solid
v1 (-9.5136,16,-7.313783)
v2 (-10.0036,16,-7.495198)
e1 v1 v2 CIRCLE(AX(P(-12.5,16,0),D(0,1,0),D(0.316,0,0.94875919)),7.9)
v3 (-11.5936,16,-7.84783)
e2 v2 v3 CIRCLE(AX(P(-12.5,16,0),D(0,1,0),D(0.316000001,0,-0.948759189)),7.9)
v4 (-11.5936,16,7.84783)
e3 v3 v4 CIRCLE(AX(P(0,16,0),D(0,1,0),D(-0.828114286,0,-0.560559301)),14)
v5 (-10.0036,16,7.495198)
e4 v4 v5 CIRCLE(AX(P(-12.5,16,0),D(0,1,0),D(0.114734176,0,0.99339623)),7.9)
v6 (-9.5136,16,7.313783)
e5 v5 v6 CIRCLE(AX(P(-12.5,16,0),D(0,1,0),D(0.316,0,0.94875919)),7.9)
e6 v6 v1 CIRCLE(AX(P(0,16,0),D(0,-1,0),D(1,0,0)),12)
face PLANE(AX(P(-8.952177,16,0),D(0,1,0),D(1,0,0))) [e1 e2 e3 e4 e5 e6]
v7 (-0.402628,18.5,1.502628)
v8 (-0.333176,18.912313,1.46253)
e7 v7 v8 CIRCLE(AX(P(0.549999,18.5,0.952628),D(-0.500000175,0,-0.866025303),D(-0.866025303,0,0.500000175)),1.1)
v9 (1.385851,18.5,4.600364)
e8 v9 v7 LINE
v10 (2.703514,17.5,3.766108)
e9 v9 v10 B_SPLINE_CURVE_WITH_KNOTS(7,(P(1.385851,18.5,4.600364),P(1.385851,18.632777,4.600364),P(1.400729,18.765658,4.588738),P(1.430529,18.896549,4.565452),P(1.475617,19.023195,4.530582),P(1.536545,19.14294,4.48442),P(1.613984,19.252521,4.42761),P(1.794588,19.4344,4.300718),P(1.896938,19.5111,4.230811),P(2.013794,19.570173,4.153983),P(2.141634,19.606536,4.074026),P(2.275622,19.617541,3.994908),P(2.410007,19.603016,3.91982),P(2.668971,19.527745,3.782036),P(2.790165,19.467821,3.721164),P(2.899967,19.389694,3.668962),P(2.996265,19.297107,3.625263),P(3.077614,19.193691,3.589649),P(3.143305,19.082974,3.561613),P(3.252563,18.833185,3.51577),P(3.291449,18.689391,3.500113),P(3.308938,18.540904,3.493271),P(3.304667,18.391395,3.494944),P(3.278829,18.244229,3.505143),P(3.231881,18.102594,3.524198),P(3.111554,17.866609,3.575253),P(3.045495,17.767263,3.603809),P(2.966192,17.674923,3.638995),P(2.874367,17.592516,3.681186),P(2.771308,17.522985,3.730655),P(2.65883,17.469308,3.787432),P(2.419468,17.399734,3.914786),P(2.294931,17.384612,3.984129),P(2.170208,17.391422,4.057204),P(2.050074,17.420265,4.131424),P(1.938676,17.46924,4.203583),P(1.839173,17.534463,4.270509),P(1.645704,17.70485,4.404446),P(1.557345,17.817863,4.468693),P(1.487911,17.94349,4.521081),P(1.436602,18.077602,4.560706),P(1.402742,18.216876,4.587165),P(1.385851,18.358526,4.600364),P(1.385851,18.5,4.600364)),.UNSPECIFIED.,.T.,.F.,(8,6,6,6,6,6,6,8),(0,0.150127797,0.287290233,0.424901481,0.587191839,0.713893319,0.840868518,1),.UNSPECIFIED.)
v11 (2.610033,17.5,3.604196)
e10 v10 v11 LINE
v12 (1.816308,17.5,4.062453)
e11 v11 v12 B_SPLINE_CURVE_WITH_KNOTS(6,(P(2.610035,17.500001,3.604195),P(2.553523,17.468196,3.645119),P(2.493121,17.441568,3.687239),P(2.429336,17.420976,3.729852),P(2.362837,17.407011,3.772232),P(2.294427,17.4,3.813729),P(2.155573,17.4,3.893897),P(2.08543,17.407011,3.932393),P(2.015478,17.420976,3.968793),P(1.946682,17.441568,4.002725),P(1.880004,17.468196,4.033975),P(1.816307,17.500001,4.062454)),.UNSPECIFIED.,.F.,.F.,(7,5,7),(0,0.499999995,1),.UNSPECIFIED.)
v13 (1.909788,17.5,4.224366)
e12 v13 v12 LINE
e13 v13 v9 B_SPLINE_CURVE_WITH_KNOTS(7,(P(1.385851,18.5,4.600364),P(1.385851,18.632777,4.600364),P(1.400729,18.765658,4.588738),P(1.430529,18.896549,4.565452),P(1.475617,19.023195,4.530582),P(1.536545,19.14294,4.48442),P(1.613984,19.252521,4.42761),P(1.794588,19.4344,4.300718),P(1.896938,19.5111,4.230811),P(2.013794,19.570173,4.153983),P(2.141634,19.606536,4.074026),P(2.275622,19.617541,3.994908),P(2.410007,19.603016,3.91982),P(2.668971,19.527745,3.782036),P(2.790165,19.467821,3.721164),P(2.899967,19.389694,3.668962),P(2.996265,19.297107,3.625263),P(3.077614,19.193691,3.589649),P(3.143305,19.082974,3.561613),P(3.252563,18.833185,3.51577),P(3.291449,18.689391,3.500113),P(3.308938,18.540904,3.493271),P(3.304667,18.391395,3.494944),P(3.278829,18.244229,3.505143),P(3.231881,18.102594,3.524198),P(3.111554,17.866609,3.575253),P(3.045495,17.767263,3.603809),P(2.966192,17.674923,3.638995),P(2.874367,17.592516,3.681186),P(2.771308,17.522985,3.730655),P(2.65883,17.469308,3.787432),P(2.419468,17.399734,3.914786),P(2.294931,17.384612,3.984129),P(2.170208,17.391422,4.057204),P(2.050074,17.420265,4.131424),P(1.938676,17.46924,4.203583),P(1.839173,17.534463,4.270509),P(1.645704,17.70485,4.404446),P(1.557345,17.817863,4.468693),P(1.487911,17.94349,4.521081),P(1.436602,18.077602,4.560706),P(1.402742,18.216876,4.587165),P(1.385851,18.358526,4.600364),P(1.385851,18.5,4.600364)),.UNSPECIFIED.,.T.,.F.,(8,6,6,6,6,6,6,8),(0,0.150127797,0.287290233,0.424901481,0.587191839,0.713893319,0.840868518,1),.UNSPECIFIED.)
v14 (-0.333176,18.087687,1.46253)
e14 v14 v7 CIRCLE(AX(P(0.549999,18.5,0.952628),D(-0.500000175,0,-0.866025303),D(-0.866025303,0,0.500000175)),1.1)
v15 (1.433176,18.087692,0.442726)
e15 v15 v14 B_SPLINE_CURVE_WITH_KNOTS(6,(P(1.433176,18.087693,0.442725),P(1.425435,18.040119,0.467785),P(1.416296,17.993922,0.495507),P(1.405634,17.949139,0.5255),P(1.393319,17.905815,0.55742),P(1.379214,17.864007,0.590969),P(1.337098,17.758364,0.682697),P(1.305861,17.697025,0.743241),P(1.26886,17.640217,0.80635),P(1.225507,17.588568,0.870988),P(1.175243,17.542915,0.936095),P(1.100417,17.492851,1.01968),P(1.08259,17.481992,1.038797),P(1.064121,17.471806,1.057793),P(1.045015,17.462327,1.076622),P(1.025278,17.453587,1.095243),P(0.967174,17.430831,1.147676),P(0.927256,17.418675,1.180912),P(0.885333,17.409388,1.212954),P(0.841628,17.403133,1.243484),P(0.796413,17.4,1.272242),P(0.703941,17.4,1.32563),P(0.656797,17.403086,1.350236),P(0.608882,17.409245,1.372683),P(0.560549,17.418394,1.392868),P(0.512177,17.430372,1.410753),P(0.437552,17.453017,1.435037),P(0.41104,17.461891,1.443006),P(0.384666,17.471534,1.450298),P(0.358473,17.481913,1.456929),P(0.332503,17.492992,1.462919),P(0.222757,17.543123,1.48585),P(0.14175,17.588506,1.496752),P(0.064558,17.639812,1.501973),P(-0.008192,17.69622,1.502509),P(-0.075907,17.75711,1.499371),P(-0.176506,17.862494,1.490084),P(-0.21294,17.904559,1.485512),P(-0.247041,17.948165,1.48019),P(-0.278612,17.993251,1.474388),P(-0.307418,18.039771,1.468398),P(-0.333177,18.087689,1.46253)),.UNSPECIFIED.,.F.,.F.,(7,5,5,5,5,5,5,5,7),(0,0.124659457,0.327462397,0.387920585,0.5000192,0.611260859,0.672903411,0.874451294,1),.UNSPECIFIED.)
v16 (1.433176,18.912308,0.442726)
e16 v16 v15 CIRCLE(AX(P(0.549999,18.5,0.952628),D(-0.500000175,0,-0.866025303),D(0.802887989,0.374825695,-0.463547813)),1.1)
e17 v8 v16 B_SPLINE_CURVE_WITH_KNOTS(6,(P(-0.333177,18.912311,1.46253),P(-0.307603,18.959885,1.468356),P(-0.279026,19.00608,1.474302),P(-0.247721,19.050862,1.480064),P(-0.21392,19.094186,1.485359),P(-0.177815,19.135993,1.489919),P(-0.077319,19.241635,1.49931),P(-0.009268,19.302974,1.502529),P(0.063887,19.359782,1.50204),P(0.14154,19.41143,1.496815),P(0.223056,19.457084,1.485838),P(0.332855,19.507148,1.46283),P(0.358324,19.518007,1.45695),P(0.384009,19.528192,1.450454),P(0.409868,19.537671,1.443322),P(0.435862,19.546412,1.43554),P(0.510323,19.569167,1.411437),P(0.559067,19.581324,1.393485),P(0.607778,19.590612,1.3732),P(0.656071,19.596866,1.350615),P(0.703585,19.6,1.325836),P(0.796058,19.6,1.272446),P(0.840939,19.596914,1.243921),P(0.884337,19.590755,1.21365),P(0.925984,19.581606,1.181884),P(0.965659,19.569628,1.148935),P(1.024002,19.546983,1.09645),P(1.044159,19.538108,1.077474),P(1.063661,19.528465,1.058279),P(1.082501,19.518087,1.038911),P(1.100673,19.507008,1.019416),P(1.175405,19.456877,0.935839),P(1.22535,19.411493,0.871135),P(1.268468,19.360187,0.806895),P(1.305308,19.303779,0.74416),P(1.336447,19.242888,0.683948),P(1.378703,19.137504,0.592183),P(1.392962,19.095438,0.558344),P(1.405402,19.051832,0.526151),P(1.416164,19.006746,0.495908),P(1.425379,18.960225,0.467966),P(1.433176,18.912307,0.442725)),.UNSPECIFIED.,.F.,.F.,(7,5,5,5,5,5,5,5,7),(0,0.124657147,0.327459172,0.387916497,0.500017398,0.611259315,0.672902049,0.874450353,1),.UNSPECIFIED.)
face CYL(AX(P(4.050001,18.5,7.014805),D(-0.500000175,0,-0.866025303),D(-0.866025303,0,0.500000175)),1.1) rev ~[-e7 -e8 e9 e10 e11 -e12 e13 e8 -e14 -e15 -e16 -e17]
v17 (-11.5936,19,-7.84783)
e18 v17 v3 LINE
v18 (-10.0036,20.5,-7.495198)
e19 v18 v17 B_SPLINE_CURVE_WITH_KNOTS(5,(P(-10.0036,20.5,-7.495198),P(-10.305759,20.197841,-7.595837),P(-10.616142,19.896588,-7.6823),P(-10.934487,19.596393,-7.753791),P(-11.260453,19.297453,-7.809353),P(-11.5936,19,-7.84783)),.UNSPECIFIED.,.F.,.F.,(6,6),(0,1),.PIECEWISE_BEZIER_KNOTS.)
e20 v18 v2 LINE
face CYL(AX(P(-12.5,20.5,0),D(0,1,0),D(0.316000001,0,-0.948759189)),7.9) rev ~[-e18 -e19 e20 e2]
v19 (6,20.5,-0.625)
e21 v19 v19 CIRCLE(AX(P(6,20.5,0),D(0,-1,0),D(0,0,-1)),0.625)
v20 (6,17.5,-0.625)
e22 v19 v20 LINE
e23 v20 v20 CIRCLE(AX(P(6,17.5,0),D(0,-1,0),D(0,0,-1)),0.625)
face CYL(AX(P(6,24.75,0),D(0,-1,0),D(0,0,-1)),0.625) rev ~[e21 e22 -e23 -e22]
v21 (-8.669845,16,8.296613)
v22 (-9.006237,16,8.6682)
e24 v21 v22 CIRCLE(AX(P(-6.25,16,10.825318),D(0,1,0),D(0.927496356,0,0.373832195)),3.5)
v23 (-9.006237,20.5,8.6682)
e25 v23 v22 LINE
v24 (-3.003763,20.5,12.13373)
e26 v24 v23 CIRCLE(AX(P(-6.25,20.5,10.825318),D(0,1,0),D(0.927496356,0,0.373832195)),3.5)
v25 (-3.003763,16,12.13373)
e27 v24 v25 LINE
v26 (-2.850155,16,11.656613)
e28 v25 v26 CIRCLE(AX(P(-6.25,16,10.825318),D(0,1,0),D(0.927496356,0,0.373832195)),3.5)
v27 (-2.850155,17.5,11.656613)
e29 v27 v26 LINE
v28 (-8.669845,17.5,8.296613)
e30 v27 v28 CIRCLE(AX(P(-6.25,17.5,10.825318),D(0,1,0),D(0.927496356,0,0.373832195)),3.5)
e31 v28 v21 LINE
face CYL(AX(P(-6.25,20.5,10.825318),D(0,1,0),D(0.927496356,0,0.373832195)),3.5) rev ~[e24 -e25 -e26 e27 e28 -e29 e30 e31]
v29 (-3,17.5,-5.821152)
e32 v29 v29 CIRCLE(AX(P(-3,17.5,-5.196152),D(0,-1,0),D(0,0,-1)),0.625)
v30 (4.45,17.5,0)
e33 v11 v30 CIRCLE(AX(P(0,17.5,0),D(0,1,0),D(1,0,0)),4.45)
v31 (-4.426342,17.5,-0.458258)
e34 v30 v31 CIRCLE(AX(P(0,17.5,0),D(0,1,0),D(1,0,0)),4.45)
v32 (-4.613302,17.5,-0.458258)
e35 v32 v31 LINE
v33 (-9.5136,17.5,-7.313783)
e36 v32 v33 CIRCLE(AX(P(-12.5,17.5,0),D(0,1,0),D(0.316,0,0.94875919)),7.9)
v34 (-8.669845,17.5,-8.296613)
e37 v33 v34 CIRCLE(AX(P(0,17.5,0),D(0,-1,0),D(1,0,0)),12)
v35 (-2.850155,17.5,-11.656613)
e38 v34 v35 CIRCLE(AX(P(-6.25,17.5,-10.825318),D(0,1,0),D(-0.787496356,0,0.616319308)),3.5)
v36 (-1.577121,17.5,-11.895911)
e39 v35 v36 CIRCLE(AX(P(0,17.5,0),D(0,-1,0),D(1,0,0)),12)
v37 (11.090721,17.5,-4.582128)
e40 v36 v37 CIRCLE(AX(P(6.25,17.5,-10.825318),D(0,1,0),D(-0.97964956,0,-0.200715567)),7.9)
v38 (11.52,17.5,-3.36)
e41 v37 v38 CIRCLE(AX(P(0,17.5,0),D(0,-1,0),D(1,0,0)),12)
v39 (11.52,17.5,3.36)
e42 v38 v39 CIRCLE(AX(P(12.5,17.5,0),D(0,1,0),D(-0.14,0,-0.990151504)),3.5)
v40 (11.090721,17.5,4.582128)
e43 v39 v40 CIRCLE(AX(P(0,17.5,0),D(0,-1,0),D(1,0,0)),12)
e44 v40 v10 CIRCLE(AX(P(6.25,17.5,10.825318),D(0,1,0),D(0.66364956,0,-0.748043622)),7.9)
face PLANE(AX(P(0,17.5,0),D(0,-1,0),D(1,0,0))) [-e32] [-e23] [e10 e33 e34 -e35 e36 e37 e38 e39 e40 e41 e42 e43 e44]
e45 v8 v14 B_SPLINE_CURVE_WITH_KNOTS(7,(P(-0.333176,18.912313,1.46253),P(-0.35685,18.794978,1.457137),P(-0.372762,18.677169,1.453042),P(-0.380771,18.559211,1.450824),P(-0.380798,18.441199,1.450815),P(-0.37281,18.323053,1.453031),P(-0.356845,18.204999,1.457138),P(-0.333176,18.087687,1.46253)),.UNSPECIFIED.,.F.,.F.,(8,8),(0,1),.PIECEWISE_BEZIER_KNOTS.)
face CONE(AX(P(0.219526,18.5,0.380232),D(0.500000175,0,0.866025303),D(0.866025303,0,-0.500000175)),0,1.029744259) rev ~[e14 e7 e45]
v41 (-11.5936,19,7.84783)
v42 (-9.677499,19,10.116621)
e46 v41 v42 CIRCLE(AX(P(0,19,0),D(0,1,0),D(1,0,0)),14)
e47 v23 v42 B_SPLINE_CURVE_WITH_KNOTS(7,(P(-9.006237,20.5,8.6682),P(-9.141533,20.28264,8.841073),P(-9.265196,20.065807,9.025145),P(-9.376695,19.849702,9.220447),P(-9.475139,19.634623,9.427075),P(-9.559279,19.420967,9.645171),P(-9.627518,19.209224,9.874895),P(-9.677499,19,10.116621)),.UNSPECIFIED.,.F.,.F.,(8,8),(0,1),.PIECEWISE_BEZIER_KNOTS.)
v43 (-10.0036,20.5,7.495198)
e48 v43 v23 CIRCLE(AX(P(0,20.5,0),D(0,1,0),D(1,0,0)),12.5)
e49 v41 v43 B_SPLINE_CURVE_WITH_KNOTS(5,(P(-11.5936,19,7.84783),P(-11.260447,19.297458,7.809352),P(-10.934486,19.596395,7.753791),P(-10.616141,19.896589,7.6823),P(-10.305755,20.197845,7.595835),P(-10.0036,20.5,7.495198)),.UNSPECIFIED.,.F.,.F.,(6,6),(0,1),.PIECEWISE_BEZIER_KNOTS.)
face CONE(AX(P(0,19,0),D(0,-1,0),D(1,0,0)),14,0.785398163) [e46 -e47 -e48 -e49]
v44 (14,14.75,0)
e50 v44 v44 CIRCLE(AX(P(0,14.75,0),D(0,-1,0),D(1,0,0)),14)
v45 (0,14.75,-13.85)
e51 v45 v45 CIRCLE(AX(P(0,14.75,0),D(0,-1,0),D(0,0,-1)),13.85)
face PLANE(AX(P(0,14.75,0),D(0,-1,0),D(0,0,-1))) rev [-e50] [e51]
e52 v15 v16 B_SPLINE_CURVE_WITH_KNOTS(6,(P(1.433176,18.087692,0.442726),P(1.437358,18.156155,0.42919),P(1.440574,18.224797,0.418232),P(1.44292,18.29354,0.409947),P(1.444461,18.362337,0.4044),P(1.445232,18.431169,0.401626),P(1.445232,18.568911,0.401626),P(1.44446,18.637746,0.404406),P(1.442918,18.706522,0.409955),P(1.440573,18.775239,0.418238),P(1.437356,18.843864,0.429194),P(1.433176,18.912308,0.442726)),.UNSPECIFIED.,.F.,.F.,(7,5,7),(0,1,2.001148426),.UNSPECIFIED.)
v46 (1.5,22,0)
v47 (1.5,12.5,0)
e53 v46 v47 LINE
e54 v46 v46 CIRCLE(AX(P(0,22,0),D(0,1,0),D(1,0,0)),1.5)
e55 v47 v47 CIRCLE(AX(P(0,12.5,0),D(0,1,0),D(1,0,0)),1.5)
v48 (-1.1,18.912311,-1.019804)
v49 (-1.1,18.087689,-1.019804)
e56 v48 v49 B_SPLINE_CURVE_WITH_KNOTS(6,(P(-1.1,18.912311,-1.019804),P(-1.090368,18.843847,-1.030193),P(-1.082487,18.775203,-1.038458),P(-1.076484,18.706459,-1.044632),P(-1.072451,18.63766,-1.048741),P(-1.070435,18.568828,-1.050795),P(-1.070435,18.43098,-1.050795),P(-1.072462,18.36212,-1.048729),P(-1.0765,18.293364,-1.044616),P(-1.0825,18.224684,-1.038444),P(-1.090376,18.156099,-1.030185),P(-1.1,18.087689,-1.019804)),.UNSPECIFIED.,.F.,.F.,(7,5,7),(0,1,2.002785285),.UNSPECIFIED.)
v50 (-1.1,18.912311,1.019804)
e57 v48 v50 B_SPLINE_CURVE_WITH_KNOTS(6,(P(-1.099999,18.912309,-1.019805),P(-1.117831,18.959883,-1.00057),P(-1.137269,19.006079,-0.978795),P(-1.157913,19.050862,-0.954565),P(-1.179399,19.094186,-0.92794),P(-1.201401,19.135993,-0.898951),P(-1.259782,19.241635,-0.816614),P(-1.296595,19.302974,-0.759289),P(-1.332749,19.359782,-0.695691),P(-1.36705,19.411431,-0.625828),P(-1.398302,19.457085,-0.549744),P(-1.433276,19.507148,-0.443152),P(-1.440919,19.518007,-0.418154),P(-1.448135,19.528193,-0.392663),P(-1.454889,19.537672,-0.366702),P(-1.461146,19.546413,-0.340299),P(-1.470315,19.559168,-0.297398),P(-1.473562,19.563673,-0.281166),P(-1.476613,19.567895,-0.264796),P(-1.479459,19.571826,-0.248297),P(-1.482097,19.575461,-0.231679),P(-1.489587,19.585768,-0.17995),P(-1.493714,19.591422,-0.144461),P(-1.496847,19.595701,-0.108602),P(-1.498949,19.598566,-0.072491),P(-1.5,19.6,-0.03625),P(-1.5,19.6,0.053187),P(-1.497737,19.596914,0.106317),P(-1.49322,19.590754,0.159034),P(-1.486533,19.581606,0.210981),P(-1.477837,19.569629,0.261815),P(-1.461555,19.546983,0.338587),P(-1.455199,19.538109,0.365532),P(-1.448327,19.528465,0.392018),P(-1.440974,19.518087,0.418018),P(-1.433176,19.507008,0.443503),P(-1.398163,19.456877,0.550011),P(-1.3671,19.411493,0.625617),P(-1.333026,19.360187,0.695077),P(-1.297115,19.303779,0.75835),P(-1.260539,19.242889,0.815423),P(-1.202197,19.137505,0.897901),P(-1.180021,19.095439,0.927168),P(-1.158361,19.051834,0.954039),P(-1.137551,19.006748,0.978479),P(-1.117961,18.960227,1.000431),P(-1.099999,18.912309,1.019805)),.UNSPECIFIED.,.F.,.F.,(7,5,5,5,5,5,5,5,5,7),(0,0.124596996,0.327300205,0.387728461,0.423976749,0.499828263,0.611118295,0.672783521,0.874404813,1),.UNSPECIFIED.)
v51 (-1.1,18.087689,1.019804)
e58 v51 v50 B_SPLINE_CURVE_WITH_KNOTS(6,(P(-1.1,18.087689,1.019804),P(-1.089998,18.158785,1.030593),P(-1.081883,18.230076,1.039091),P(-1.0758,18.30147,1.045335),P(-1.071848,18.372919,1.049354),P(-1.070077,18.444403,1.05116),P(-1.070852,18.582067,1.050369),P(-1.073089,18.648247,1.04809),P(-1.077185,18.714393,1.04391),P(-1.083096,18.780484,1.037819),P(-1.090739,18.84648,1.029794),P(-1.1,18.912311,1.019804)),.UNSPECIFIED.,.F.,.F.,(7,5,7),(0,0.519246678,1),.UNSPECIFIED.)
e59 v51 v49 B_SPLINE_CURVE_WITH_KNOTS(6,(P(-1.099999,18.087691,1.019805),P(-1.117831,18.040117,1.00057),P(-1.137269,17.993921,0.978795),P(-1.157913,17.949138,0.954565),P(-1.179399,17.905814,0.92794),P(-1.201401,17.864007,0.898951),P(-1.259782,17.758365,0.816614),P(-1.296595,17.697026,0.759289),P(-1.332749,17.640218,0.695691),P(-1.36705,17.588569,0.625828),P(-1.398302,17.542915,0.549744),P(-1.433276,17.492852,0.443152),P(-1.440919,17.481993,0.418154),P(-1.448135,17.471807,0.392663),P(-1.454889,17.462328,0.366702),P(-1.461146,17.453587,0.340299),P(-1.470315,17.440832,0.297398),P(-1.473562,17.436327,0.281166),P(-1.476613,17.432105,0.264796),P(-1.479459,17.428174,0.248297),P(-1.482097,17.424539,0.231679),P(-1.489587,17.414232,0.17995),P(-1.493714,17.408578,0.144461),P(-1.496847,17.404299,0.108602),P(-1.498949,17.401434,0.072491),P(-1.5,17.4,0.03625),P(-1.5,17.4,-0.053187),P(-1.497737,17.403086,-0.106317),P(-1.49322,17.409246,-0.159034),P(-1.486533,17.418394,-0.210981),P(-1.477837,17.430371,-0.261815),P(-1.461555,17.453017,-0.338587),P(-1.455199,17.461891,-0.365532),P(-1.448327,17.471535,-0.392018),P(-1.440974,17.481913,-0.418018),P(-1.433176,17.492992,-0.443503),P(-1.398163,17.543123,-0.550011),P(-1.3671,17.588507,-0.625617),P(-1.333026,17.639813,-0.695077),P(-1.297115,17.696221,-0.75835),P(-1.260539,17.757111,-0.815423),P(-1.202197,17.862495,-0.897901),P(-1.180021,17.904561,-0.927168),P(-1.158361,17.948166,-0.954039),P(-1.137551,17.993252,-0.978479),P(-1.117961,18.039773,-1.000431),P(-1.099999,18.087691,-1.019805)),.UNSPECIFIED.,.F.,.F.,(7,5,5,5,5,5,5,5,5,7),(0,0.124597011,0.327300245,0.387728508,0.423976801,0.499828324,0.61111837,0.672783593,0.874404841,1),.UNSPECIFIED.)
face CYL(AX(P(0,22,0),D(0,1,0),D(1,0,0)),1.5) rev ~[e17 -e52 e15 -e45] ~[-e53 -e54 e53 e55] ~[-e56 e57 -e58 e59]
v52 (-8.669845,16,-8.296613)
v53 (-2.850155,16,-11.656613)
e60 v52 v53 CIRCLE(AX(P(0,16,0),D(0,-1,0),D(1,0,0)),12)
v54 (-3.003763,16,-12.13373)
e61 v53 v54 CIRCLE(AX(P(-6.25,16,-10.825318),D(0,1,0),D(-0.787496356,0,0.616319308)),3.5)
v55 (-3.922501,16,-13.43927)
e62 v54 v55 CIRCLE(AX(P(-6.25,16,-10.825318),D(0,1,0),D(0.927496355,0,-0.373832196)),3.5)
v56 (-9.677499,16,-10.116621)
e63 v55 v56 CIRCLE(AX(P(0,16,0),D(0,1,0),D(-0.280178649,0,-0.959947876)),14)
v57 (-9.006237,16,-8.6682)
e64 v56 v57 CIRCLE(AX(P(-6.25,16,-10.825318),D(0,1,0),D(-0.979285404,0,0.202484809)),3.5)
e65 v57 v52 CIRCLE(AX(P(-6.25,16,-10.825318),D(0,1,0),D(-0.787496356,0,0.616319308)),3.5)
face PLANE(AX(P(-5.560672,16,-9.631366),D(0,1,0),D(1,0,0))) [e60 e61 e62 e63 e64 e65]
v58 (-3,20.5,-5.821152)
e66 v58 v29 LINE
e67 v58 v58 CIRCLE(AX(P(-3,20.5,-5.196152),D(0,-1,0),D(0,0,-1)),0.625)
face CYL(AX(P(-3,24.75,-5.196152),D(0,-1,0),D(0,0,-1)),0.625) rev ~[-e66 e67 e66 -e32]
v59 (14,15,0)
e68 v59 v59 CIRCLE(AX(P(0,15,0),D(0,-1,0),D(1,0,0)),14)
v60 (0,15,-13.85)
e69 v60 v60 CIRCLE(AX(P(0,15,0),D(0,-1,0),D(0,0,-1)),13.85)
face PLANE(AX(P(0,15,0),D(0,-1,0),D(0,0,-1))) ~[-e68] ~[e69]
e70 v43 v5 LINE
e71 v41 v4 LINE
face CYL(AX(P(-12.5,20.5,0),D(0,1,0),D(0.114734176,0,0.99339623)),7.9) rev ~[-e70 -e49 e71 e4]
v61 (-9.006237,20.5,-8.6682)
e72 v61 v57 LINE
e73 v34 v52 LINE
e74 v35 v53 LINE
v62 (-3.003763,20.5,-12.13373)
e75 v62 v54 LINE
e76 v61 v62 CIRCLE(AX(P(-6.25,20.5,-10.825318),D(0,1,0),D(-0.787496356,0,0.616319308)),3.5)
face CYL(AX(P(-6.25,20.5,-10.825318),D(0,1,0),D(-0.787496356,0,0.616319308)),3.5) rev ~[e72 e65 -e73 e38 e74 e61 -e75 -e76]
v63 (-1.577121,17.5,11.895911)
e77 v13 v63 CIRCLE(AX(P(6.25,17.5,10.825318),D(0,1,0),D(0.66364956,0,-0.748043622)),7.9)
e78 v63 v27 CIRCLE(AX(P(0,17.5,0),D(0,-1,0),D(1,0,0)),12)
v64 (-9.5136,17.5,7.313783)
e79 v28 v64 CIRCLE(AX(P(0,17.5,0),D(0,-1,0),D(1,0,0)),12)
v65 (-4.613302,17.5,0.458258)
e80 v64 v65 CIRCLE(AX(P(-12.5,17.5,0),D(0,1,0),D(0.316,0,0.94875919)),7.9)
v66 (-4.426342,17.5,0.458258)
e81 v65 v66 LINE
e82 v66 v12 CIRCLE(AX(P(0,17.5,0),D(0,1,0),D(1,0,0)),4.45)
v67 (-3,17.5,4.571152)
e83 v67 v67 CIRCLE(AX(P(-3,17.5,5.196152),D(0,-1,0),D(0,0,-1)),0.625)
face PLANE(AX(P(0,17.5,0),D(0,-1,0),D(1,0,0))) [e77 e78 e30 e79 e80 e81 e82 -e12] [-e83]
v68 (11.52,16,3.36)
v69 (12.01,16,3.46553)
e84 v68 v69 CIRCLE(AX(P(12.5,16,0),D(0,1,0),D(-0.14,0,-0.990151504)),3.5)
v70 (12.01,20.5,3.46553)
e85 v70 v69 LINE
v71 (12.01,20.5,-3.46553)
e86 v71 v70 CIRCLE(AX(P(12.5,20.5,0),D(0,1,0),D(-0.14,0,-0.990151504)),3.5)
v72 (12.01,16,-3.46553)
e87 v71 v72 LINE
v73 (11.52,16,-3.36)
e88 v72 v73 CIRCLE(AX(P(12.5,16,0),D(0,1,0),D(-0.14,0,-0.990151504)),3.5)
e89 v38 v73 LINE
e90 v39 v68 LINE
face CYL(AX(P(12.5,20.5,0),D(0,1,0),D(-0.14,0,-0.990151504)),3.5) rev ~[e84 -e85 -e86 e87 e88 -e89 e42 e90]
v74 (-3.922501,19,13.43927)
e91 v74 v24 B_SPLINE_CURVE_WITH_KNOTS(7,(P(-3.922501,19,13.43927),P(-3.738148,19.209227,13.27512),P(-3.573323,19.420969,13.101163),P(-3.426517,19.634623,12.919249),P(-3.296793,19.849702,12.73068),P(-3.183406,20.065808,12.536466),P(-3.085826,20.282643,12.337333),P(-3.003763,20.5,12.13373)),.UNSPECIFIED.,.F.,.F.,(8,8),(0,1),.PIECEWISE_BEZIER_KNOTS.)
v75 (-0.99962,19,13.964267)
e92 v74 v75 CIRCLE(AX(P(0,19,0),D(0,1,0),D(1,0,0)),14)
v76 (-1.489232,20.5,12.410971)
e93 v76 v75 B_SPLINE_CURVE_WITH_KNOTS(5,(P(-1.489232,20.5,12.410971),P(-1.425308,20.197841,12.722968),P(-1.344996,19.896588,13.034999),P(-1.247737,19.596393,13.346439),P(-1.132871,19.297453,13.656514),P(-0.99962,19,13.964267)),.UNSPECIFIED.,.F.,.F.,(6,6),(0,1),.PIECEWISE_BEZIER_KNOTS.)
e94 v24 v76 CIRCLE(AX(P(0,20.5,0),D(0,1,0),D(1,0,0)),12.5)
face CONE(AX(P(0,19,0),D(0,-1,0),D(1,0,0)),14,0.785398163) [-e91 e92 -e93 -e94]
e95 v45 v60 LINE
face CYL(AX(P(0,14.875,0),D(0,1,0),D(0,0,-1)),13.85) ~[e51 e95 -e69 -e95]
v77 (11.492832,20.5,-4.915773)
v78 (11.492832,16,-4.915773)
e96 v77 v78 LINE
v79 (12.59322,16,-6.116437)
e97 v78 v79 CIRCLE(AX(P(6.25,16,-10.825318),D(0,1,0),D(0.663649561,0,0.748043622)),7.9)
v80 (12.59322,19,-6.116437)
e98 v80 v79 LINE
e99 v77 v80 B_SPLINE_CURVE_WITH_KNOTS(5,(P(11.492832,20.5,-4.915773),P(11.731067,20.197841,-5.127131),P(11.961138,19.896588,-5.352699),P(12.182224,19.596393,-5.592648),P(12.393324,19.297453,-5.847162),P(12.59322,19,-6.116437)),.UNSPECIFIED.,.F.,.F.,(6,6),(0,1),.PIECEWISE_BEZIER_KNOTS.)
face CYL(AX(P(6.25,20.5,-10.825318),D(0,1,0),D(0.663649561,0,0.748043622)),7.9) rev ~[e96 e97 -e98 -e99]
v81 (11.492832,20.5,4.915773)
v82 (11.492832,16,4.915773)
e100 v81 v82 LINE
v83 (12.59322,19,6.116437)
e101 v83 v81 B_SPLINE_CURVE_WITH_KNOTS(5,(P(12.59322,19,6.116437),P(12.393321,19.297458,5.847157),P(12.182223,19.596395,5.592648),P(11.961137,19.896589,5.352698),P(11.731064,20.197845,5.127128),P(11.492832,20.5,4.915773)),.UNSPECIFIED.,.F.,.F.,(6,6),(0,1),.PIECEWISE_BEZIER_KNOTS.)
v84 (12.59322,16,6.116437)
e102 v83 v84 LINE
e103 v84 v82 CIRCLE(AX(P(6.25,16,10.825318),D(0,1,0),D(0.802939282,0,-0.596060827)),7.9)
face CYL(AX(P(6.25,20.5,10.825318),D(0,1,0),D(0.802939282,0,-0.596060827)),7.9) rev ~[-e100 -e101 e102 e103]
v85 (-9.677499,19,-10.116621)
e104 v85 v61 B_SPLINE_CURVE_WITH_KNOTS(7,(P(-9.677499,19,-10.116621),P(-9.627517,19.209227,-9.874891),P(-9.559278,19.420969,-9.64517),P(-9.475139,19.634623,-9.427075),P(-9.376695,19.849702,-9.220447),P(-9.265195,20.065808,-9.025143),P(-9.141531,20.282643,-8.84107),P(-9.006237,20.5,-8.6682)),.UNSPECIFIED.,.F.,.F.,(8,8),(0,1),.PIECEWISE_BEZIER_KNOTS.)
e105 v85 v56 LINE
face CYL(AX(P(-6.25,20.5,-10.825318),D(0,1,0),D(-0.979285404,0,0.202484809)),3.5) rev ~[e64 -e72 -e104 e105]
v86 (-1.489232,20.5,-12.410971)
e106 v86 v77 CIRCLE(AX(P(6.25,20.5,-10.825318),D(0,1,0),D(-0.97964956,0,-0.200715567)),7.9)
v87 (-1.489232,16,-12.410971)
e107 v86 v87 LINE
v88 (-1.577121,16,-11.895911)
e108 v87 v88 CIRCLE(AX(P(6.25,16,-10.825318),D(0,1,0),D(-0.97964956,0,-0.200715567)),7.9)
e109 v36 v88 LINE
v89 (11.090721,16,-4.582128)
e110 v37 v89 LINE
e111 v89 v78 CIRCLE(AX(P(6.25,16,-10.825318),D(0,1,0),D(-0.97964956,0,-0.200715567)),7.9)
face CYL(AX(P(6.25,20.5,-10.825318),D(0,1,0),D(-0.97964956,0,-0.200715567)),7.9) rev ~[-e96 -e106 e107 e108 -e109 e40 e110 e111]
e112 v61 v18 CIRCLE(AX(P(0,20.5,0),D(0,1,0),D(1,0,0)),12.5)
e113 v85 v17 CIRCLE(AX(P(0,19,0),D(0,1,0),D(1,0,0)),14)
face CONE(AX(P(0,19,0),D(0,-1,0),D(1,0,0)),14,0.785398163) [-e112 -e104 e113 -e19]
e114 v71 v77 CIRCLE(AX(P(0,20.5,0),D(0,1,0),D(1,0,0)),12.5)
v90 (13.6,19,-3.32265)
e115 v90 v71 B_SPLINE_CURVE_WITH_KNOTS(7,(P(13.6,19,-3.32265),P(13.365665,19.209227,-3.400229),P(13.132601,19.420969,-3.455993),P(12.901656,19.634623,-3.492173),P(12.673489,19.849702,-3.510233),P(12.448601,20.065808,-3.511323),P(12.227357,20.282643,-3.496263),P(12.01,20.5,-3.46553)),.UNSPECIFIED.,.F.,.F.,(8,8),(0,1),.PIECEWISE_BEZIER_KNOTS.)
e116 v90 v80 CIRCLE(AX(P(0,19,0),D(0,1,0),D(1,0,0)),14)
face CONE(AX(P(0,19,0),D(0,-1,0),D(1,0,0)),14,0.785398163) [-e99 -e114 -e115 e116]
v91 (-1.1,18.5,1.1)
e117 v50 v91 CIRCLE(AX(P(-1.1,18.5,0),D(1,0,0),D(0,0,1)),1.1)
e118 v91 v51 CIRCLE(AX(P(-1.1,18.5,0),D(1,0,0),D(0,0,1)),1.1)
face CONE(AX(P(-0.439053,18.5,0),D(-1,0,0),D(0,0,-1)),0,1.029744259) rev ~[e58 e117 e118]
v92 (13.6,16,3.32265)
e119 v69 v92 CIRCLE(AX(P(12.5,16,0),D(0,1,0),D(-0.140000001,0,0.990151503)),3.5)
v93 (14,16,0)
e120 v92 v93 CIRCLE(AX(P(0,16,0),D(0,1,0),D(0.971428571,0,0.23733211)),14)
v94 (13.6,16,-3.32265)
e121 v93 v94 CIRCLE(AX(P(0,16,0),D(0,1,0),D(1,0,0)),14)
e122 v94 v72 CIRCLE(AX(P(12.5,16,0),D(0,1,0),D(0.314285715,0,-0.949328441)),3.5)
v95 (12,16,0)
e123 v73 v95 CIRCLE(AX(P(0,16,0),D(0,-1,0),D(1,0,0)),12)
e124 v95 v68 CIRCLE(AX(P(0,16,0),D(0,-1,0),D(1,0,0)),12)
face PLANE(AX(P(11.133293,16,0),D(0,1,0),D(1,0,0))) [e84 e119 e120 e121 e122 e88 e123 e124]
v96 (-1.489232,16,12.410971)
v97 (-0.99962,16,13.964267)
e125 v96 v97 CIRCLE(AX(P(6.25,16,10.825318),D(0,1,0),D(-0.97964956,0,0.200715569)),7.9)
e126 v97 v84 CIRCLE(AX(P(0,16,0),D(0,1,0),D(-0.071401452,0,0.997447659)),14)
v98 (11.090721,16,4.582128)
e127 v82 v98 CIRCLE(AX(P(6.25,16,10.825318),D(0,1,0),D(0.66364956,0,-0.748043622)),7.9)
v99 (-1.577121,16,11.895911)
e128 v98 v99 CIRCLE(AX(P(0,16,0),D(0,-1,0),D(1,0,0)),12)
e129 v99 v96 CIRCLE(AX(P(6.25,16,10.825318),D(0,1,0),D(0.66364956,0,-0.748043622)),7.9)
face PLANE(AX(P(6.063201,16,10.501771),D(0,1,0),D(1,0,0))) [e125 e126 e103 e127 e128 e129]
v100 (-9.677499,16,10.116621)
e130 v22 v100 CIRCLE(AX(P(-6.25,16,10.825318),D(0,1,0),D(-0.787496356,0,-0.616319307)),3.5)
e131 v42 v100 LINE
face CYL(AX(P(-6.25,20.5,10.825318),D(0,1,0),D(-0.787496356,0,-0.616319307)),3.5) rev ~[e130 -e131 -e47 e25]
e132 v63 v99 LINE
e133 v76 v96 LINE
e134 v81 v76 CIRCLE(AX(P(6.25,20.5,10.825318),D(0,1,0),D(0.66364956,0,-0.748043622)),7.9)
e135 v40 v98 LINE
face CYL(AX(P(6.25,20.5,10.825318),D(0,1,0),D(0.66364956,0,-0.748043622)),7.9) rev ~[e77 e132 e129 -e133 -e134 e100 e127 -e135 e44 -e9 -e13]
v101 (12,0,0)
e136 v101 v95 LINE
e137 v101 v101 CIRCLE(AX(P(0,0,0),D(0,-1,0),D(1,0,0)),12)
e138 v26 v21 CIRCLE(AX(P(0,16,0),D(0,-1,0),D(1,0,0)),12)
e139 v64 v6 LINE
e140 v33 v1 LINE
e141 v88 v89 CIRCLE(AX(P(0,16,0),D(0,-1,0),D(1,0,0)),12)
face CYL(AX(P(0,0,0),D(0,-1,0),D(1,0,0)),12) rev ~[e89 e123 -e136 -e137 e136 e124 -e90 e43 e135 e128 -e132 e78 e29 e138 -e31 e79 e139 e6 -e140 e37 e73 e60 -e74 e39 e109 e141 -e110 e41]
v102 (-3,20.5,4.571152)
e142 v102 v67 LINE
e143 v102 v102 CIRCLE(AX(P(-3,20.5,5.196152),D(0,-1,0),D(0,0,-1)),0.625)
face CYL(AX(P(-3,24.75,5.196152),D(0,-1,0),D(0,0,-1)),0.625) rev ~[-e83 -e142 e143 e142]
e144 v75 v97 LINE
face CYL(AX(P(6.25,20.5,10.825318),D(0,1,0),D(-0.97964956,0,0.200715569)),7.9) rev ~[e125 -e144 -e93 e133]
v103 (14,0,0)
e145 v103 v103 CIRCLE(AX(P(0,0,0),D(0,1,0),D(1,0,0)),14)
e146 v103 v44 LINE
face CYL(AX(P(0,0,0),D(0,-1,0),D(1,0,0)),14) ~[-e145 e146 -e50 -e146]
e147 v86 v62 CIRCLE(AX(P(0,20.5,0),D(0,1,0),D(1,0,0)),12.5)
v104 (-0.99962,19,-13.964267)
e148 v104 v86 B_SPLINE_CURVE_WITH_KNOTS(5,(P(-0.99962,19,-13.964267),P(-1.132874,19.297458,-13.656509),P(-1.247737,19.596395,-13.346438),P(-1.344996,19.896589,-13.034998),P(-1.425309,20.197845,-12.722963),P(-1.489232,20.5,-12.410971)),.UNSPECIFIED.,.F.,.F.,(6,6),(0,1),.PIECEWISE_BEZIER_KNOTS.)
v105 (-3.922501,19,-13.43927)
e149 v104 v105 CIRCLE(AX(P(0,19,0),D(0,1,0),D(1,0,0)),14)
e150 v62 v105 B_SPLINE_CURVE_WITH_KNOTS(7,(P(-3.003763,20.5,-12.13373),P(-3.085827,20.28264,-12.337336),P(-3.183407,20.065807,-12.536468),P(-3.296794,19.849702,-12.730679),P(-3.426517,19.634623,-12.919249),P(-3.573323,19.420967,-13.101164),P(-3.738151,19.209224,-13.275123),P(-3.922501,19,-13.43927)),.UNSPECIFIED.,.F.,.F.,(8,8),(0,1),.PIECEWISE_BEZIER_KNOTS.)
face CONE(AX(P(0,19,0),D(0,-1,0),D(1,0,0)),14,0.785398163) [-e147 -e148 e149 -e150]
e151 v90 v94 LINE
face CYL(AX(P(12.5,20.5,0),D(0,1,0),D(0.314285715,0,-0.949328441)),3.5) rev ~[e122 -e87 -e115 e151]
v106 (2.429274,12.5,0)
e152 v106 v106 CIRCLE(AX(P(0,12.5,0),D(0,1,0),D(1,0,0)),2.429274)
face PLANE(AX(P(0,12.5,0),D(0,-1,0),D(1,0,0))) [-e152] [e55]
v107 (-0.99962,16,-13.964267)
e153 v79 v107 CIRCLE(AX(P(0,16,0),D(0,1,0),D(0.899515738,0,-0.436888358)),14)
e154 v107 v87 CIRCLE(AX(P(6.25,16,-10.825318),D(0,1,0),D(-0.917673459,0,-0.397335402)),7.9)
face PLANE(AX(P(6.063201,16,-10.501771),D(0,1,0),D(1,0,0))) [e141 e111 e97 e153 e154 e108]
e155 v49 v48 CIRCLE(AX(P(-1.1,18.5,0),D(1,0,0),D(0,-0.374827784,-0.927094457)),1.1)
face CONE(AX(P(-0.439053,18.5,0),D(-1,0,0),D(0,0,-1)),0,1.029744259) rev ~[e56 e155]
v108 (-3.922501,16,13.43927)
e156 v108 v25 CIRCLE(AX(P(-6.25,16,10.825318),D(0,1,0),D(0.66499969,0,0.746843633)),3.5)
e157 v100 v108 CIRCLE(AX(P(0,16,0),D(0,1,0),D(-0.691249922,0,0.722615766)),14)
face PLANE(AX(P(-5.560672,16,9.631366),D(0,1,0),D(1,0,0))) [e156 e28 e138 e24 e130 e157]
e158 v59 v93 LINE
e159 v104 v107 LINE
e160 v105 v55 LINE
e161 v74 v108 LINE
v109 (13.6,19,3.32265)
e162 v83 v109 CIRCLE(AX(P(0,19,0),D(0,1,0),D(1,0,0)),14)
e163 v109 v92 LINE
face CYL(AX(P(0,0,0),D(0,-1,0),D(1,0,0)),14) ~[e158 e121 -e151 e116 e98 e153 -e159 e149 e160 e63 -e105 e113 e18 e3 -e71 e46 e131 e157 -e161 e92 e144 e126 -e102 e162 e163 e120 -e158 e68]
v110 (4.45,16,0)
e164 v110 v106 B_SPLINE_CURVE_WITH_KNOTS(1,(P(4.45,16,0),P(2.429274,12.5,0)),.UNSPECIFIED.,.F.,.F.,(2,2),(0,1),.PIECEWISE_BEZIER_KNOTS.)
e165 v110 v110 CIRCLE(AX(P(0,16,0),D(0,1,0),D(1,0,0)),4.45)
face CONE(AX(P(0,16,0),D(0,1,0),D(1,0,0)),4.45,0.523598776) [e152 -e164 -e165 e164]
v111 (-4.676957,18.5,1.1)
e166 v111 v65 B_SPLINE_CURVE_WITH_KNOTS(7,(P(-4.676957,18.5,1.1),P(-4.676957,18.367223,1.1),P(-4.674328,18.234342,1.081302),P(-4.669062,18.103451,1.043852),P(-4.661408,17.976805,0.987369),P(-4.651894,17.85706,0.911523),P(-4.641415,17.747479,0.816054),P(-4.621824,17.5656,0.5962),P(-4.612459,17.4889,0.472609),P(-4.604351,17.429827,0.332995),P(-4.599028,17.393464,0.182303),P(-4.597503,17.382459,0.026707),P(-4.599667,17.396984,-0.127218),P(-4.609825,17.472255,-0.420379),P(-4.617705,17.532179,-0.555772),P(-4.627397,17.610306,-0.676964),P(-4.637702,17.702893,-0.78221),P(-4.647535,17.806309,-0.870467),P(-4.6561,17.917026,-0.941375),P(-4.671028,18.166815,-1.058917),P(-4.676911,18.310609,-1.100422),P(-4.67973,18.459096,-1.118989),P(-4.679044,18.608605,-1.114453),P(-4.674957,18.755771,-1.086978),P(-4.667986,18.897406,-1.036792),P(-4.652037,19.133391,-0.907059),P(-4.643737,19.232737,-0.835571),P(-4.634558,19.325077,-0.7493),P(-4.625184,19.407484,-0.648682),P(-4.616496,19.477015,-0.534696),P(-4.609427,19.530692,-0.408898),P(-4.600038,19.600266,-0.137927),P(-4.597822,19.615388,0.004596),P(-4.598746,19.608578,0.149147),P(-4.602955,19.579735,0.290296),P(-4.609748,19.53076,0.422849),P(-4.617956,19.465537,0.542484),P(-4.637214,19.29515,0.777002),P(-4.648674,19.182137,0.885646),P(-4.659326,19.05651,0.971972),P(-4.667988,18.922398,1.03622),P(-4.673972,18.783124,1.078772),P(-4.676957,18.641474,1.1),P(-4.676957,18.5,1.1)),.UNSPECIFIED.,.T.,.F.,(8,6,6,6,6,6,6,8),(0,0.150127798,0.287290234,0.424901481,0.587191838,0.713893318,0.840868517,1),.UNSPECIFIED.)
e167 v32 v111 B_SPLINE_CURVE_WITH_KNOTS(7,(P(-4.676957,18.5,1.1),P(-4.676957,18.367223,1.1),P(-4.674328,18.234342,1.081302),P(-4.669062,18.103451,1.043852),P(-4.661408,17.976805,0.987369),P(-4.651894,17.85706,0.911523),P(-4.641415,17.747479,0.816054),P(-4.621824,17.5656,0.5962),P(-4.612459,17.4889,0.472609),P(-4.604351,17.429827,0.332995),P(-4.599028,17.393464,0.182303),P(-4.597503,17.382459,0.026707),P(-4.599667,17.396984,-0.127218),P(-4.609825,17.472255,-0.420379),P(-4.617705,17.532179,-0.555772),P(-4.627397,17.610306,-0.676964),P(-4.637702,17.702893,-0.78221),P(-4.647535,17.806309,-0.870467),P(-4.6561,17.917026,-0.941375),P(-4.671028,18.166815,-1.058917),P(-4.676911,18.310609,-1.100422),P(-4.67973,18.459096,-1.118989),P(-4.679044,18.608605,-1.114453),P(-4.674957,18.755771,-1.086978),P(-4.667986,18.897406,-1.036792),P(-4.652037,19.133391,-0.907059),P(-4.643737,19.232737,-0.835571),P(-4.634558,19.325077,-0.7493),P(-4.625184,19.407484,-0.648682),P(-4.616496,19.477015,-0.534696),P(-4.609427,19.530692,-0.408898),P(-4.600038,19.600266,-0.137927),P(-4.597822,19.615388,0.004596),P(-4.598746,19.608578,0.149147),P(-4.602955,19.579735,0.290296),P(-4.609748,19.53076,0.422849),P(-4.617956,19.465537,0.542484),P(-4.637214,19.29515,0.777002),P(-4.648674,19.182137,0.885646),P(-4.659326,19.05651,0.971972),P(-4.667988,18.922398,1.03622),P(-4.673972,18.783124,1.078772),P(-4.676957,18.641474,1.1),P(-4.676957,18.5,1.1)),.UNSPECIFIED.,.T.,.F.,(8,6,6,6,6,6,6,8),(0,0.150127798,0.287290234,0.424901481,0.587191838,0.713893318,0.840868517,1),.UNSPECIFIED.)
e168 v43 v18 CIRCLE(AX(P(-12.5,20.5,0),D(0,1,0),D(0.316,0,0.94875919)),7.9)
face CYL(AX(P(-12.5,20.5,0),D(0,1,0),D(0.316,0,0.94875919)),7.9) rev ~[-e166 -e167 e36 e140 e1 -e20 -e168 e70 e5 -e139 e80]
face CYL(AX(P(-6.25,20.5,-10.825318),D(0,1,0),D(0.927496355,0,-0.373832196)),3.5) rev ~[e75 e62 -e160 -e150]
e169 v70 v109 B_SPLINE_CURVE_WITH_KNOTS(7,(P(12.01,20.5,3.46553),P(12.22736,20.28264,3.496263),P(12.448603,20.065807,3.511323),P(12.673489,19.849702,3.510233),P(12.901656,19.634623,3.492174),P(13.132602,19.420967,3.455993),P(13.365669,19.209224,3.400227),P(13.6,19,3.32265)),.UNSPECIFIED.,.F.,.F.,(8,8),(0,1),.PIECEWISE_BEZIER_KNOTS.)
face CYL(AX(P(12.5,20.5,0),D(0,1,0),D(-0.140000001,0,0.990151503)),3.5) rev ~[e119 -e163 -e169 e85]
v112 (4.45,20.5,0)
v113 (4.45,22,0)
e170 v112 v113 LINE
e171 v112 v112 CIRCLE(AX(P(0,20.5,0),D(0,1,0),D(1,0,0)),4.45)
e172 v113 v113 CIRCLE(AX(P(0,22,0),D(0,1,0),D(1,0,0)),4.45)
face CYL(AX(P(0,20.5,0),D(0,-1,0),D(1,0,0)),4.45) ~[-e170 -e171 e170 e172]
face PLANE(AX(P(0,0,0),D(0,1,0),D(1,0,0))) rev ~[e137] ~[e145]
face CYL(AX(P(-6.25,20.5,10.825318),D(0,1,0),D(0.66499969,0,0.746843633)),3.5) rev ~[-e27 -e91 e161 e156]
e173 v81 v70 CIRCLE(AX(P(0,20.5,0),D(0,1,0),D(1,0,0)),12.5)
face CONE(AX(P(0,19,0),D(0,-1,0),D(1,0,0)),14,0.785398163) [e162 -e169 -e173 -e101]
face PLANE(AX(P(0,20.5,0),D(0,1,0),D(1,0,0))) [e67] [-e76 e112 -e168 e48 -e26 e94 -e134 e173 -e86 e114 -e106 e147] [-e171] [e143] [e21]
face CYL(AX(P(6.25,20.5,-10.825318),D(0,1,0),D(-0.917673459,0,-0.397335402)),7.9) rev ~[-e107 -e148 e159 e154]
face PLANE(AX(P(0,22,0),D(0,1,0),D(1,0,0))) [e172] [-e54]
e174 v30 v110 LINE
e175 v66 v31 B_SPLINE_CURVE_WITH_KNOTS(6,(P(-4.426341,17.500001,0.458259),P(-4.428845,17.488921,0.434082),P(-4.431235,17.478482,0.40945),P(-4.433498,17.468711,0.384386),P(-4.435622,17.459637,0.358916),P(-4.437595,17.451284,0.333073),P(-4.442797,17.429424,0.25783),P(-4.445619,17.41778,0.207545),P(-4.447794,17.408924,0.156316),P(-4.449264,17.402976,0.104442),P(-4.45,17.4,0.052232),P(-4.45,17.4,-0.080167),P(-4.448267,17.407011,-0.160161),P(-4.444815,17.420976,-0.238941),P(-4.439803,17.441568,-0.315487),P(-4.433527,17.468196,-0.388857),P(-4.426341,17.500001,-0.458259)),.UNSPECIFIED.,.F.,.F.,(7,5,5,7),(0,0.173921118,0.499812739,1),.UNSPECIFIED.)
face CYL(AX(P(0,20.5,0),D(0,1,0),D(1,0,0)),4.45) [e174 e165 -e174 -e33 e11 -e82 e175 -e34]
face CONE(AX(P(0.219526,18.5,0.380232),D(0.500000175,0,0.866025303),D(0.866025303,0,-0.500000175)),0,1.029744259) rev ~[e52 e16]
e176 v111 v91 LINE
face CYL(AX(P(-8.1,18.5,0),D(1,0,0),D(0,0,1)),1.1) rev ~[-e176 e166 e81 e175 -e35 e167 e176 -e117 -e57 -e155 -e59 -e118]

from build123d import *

# Parameters (mm, degrees)
SKETCH1_R                          = 14
BOSS_EXTRUDE1_DEPTH                = 20.5
SKETCH2_R                          = 12
CUT_EXTRUDE1_DEPTH                 = 17.5
CHAMFER1_SIZE                      = 1.5
SKETCH3_W                          = 0.15
SKETCH3_H                          = 0.25
SKETCH4_R                          = 4.45
BOSS_EXTRUDE2_DEPTH                = 1.5
BOSS_EXTRUDE2_DEPTH_BACK           = 4.5
SKETCH10_R                         = 4.45
BOSS_EXTRUDE3_DEPTH                = 3.5
BOSS_EXTRUDE3_TAPER                = 30
SKETCH5_R                          = 1.5
CUT_EXTRUDE2_DEPTH                 = 23
CUT_EXTRUDE3_DEPTH                 = 4.5
M1_6X0_35_TAPPED_HOLE1_D           = 1.25
M1_6X0_35_TAPPED_HOLE1_DEPTH       = 4.25
M1_6X0_35_TAPPED_HOLE1_TIP         = 0.375537887
M2_CLEARANCE_HOLE4_D               = 2.2
M2_CLEARANCE_HOLE4_DEPTH           = 3.5
M2_CLEARANCE_HOLE4_TIP             = 0.660946681
M2_CLEARANCE_HOLE4_ON_FACE_2_D     = 2.2
M2_CLEARANCE_HOLE4_ON_FACE_2_DEPTH = 3.5
M2_CLEARANCE_HOLE4_ON_FACE_2_TIP   = 0.660946681


with BuildPart() as part:
    # Sketch1 → Boss-Extrude1 (new body)
    with BuildSketch(Plane(origin=(0, 0, 0), x_dir=(1, 0, 0), z_dir=(0, 1, 0))):
        Circle(SKETCH1_R)
    extrude(amount=BOSS_EXTRUDE1_DEPTH)

    # Sketch2 → Cut-Extrude1 (cut)
    with BuildSketch(Plane.XZ):
        Circle(SKETCH2_R)
    extrude(amount=-CUT_EXTRUDE1_DEPTH, mode=Mode.SUBTRACT)

    # Chamfer1
    chamfer1_edges = [part.edges().sort_by_distance(p)[0] for p in [
        (-14, 20.5, 0),
    ]]
    chamfer(chamfer1_edges, length=CHAMFER1_SIZE)

    # Sketch3 → Cut-Revolve1 (revolve, cut)
    with BuildSketch(Plane(origin=(0, 0, 0), x_dir=(0, 0, -1), z_dir=(1, 0, 0))):
        with Locations((13.925, 14.875)):
            Rectangle(SKETCH3_W, SKETCH3_H)
    revolve(axis=Axis((0, 20.5, 0), (0, -1, 0)), mode=Mode.SUBTRACT)

    # Sketch4 → Boss-Extrude2 (add, two sides)
    with BuildSketch(Plane(origin=(0, 20.5, 0), x_dir=(1, 0, 0), z_dir=(0, 1, 0))) as boss_extrude2_sk:
        Circle(SKETCH4_R)
    extrude(amount=BOSS_EXTRUDE2_DEPTH)
    extrude(boss_extrude2_sk.sketch, amount=-BOSS_EXTRUDE2_DEPTH_BACK)

    # Sketch10 → Boss-Extrude3 (add)
    with BuildSketch(Plane.XZ.offset(-16)):
        Circle(SKETCH10_R)
    extrude(amount=BOSS_EXTRUDE3_DEPTH, taper=BOSS_EXTRUDE3_TAPER)

    # Sketch5 → Cut-Extrude2 (cut, through all)
    with BuildSketch(Plane(origin=(0, 22, 0), x_dir=(1, 0, 0), z_dir=(0, 1, 0))):
        Circle(SKETCH5_R)
    extrude(amount=-CUT_EXTRUDE2_DEPTH, mode=Mode.SUBTRACT)

    # Sketch6 → Cut-Extrude3 (cut)
    with BuildSketch(Plane(origin=(0, 20.5, 0), x_dir=(1, 0, 0), z_dir=(0, 1, 0))):
        with BuildLine():
            ThreePointArc((-10.0036, -7.495197598), (-4.6, 0), (-10.0036, 7.495197598))
            ThreePointArc((-10.0036, 7.495197598), (-12.5, 0), (-10.0036, -7.495197598))
        make_face()
        with BuildLine():
            ThreePointArc((-10.0036, 7.495197598), (-10.789488556, 7.712596878), (-11.5936, 7.847830212))
            ThreePointArc((-11.5936, 7.847830212), (-14, 0), (-11.5936, -7.847830212))
            ThreePointArc((-11.5936, -7.847830212), (-10.789488556, -7.712596878), (-10.0036, -7.495197598))
            ThreePointArc((-10.0036, -7.495197598), (-12.5, 0), (-10.0036, 7.495197598))
        make_face()
        with BuildLine():
            ThreePointArc((-9.006237245, -8.668199968), (-6.25, -10.825317547), (-3.003762755, -12.133730231))
            ThreePointArc((-3.003762755, -12.133730231), (-4.5, -7.794228634), (-9.006237245, -8.668199968))
        make_face()
        with BuildLine():
            ThreePointArc((-9.677498914, -10.116620719), (-7, -12.124355653), (-3.922501086, -13.439270264))
            ThreePointArc((-3.922501086, -13.439270264), (-3.387703302, -12.839581088), (-3.003762755, -12.133730231))
            ThreePointArc((-3.003762755, -12.133730231), (-6.25, -10.825317547), (-9.006237245, -8.668199968))
            ThreePointArc((-9.006237245, -8.668199968), (-9.425551745, -9.353627664), (-9.677498914, -10.116620719))
        make_face()
        with BuildLine():
            ThreePointArc((-0.999620328, -13.964267227), (7, -12.124355653), (12.593220328, -6.116437015))
            ThreePointArc((12.593220328, -6.116437015), (12.074049103, -5.487672744), (11.492831527, -4.91577293))
            ThreePointArc((11.492831527, -4.91577293), (6.25, -10.825317547), (-1.489231527, -12.410970529))
            ThreePointArc((-1.489231527, -12.410970529), (-1.284560547, -13.200269622), (-0.999620328, -13.964267227))
        make_face()
        with BuildLine():
            ThreePointArc((-1.489231527, -12.410970529), (6.25, -10.825317547), (11.492831527, -4.91577293))
            ThreePointArc((11.492831527, -4.91577293), (2.3, -3.983716857), (-1.489231527, -12.410970529))
        make_face()
        with BuildLine():
            ThreePointArc((12.5, 0), (12.376893794, 1.75), (12.01, 3.465530262))
            ThreePointArc((12.01, 3.465530262), (9, 0), (12.01, -3.465530262))
            ThreePointArc((12.01, -3.465530262), (12.376893794, -1.75), (12.5, 0))
        make_face()
        with BuildLine():
            ThreePointArc((13.6, -3.322649545), (13.899640283, -1.673320053), (14, 0))
            ThreePointArc((14, 0), (13.899640283, 1.673320053), (13.6, 3.322649545))
            ThreePointArc((13.6, 3.322649545), (12.813255048, 3.485953424), (12.01, 3.465530262))
            ThreePointArc((12.01, 3.465530262), (12.376893794, 1.75), (12.5, 0))
            ThreePointArc((12.5, 0), (12.376893794, -1.75), (12.01, -3.465530262))
            ThreePointArc((12.01, -3.465530262), (12.813255048, -3.485953424), (13.6, -3.322649545))
        make_face()
        with BuildLine():
            ThreePointArc((11.492831527, 4.91577293), (12.074049103, 5.487672744), (12.593220328, 6.116437015))
            ThreePointArc((12.593220328, 6.116437015), (7, 12.124355653), (-0.999620328, 13.964267227))
            ThreePointArc((-0.999620328, 13.964267227), (-1.284560547, 13.200269622), (-1.489231527, 12.410970529))
            ThreePointArc((-1.489231527, 12.410970529), (6.25, 10.825317547), (11.492831527, 4.91577293))
        make_face()
        with BuildLine():
            ThreePointArc((-1.489231527, 12.410970529), (2.3, 3.983716857), (11.492831527, 4.91577293))
            ThreePointArc((11.492831527, 4.91577293), (6.25, 10.825317547), (-1.489231527, 12.410970529))
        make_face()
        with BuildLine():
            ThreePointArc((-9.006237245, 8.668199968), (-4.5, 7.794228634), (-3.003762755, 12.133730231))
            ThreePointArc((-3.003762755, 12.133730231), (-6.25, 10.825317547), (-9.006237245, 8.668199968))
        make_face()
        with BuildLine():
            ThreePointArc((-3.003762755, 12.133730231), (-3.387703302, 12.839581088), (-3.922501086, 13.439270264))
            ThreePointArc((-3.922501086, 13.439270264), (-7, 12.124355653), (-9.677498914, 10.116620719))
            ThreePointArc((-9.677498914, 10.116620719), (-9.425551745, 9.353627664), (-9.006237245, 8.668199968))
            ThreePointArc((-9.006237245, 8.668199968), (-6.25, 10.825317547), (-3.003762755, 12.133730231))
        make_face()
    extrude(amount=-CUT_EXTRUDE3_DEPTH, mode=Mode.SUBTRACT)

    # M1.6x0.35 Tapped Hole1
    with Locations(Plane(origin=(6, 20.5, 0), x_dir=(0, 0, 1), z_dir=(0, 1, 0))):
        with Locations((0, 0), (5.196152423, -9), (-5.196152423, -9)):
            Hole(M1_6X0_35_TAPPED_HOLE1_D / 2, depth=M1_6X0_35_TAPPED_HOLE1_DEPTH)
            with Locations((0, 0, -(M1_6X0_35_TAPPED_HOLE1_DEPTH + M1_6X0_35_TAPPED_HOLE1_TIP / 2))):  # 118° drill point
                Cone(0, M1_6X0_35_TAPPED_HOLE1_D / 2, M1_6X0_35_TAPPED_HOLE1_TIP, mode=Mode.SUBTRACT)

    # M2 Clearance Hole4
    with Locations(Plane(origin=(-4.6, 18.5, 0), x_dir=(0, 0, -1), z_dir=(-1, 0, 0))):
        with Locations((0, 0)):
            Hole(M2_CLEARANCE_HOLE4_D / 2, depth=M2_CLEARANCE_HOLE4_DEPTH)
            with Locations((0, 0, -(M2_CLEARANCE_HOLE4_DEPTH + M2_CLEARANCE_HOLE4_TIP / 2))):  # 118° drill point
                Cone(0, M2_CLEARANCE_HOLE4_D / 2, M2_CLEARANCE_HOLE4_TIP, mode=Mode.SUBTRACT)

    # M2 Clearance Hole4 on face 2
    with Locations(Plane(origin=(2.3, 18.5, 3.983716857), x_dir=(0.866025303, 0, -0.500000175), z_dir=(0.500000175, 0, 0.866025303))):
        with Locations((0, 0)):
            Hole(M2_CLEARANCE_HOLE4_ON_FACE_2_D / 2, depth=M2_CLEARANCE_HOLE4_ON_FACE_2_DEPTH)
            with Locations((0, 0, -(M2_CLEARANCE_HOLE4_ON_FACE_2_DEPTH + M2_CLEARANCE_HOLE4_ON_FACE_2_TIP / 2))):  # 118° drill point
                Cone(0, M2_CLEARANCE_HOLE4_ON_FACE_2_D / 2, M2_CLEARANCE_HOLE4_ON_FACE_2_TIP, mode=Mode.SUBTRACT)


solid = part.part
